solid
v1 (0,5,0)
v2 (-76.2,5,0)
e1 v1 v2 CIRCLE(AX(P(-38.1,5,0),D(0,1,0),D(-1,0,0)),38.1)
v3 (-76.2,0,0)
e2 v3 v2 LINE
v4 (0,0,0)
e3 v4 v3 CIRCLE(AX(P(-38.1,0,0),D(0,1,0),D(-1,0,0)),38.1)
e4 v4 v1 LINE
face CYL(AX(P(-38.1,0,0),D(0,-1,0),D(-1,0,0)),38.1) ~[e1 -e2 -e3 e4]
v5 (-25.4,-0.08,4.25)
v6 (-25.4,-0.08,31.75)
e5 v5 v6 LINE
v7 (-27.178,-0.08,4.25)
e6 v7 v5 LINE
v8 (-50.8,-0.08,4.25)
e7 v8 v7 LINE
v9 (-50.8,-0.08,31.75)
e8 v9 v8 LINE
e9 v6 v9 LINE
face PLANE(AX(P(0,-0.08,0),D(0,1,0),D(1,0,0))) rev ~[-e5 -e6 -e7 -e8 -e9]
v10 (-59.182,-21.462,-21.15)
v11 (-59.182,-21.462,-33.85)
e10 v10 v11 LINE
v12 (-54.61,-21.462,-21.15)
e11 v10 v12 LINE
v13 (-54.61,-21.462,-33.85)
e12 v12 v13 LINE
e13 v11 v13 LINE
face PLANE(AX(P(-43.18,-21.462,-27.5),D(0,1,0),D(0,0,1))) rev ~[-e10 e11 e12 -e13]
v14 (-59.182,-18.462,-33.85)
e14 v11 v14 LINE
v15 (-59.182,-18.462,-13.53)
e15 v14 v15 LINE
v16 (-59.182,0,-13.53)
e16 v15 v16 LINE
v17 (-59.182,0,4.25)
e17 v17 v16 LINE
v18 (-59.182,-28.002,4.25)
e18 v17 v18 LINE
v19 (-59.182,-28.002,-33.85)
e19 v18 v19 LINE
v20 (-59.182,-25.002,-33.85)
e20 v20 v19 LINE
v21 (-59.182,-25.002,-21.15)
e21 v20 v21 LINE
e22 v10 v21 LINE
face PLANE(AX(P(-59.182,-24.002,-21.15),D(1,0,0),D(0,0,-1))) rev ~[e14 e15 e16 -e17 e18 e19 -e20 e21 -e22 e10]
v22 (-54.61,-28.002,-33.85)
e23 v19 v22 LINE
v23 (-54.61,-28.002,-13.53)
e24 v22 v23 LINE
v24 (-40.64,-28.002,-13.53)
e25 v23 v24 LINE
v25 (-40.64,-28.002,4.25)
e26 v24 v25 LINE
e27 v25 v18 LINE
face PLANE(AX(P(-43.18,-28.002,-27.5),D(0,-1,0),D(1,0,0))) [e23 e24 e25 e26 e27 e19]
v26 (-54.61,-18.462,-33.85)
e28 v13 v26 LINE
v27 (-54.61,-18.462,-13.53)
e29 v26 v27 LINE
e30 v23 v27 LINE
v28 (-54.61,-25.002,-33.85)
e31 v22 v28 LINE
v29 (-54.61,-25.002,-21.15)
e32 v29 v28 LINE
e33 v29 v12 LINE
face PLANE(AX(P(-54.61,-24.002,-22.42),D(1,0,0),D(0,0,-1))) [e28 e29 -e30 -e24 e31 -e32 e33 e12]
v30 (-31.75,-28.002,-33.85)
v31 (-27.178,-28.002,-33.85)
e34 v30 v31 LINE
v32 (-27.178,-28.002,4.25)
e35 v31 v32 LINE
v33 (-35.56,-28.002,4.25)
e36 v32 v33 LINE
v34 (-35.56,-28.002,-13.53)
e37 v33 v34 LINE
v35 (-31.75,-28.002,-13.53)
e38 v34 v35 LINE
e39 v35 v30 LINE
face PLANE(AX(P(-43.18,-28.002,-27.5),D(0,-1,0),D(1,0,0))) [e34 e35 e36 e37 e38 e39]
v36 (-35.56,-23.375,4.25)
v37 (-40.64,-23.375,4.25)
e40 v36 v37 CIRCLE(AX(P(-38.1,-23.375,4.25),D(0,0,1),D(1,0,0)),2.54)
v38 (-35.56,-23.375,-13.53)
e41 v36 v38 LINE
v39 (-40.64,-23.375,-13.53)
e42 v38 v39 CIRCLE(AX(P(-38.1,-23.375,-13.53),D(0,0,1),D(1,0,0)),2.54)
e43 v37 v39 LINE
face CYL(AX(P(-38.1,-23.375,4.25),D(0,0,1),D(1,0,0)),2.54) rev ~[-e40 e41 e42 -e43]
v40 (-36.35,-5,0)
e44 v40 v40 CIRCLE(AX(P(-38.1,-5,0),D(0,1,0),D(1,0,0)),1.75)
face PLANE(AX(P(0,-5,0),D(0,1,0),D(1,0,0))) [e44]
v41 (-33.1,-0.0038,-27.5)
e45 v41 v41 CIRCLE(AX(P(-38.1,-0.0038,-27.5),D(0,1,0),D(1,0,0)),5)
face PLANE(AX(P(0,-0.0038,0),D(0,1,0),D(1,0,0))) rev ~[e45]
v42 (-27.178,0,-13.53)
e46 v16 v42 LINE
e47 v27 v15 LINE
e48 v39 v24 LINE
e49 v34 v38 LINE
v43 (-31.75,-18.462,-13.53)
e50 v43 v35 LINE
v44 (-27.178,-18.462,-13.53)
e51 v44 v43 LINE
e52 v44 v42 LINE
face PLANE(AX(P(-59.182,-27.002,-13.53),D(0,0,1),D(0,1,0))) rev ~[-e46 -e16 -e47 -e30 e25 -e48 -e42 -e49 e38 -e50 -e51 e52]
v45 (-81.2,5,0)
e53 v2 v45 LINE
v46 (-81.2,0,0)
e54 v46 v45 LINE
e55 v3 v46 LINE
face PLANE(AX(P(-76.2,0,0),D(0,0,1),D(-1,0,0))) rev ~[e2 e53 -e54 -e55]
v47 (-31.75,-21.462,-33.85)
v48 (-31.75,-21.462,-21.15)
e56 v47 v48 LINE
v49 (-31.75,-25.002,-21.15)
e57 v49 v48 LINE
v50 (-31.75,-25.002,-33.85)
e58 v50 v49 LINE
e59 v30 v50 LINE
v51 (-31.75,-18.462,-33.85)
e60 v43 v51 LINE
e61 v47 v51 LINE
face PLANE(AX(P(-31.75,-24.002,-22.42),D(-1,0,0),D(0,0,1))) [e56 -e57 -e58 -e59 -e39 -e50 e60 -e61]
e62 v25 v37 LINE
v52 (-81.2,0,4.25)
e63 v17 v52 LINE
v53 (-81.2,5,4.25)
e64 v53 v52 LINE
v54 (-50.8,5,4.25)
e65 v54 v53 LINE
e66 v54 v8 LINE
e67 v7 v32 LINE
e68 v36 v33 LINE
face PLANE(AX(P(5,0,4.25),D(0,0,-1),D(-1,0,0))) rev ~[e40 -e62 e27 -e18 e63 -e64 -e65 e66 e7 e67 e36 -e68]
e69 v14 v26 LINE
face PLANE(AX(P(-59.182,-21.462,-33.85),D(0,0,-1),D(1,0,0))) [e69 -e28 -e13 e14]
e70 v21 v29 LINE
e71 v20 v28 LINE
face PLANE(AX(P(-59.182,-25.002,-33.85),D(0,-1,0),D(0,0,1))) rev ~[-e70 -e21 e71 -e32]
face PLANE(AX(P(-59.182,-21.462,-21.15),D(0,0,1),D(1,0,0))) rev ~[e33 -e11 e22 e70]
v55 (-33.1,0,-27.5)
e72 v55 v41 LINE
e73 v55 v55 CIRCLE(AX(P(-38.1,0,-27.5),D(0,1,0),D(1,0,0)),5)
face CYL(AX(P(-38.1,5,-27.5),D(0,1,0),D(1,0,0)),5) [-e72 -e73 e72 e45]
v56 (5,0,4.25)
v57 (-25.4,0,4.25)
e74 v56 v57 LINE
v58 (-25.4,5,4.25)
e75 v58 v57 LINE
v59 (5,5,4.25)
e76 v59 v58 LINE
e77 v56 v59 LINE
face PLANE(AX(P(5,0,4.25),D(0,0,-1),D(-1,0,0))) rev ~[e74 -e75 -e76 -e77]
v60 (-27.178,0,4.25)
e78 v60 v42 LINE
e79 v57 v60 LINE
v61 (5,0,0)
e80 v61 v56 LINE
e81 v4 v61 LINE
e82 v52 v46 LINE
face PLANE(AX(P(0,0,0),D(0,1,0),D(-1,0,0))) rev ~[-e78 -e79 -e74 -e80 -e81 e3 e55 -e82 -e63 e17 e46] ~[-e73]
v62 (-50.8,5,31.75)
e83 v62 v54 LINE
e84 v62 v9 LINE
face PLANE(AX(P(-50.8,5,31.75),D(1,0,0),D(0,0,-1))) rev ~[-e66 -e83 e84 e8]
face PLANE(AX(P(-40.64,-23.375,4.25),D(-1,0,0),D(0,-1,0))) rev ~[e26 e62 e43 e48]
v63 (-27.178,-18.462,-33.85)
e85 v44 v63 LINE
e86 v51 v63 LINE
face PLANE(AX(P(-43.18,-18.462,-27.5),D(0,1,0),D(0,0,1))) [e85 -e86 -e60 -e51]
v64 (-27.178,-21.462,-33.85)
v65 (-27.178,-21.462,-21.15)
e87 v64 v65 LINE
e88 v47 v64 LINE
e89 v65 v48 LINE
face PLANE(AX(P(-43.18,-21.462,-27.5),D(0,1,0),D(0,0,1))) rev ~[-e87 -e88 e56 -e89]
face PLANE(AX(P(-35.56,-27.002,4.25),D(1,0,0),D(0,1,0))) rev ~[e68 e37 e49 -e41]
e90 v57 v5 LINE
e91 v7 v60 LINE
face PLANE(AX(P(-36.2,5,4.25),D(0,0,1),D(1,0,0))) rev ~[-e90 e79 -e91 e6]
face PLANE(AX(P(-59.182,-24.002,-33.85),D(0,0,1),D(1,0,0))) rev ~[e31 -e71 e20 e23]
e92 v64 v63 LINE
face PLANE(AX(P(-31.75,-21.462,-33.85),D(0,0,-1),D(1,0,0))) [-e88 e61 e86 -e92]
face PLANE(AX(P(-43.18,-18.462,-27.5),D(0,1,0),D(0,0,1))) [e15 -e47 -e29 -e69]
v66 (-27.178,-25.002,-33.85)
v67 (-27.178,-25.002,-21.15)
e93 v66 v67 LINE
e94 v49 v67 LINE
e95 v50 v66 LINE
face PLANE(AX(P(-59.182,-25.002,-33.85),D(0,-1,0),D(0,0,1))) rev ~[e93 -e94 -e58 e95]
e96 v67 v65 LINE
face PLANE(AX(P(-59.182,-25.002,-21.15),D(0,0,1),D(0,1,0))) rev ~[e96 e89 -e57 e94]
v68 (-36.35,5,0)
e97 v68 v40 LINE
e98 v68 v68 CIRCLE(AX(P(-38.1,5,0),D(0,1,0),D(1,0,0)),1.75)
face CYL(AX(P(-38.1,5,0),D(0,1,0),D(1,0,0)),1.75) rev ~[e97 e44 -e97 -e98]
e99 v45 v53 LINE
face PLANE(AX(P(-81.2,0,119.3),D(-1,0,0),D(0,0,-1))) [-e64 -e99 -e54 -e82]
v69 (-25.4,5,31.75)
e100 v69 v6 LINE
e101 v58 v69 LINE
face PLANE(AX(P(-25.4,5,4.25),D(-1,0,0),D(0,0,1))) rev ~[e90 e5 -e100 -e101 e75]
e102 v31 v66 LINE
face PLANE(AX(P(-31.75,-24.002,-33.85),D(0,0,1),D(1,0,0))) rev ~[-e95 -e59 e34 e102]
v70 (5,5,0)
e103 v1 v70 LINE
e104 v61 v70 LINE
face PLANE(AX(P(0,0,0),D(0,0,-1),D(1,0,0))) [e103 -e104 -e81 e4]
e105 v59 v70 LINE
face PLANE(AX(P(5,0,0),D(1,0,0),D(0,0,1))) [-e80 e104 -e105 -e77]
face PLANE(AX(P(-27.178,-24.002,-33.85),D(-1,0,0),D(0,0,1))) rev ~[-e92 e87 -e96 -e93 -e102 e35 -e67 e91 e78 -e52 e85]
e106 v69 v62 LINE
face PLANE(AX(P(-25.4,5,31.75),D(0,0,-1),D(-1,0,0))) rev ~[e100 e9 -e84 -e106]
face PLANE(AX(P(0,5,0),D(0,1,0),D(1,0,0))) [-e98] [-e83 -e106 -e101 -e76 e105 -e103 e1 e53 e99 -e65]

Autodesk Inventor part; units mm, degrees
sketch "Sketch1" plane through (0, 0, 0) normal (0, 1, 0) x (-1, 0, 0)
  line L0 (0, 0) -> (0, 114.3)
  line L1 (0, 114.3) -> (76.2, 114.3)
  line L2 (76.2, 114.3) -> (76.2, 0)
  line L3 (76.2, 0) -> (0, 0)
  circle A0 centre (38.1, 0) radius 38.1
  dimension "d0" = 114.3
  dimension "d1" = 76.2
extrude "Extrusion1" add sketch "Sketch1" along normal blind 5
sketch "Sketch2" plane through (0, 0, 0) normal (0, -1, 0) x (1, 0, 0)
  line L0 (-27.94, 89.7) -> (-27.94, 77) projected
  line L1 (-48.26, 51.6) -> (-48.26, 64.3) projected
  line L2 (-48.26, 51.6) -> (-48.26, 49.6)
  line L3 (-53.34, 64.3) -> (-48.26, 64.3)
  line L4 (-48.26, 64.3) -> (-48.26, 66.3)
  line L5 (-27.94, 66.3) -> (-27.94, 49.6)
  line L6 (-48.26, 70.015) -> (-48.26, 45.885) projected
  line L7 (-48.26, 70.015) -> (-48.26, 45.885)
  line L8 (-48.26, 42.885) -> (-27.94, 42.885)
  line L9 (-27.94, 42.885) -> (-27.94, 72.015)
  line L10 (-27.94, 72.015) -> (-27.94, 73.015)
  line L11 (-27.94, 73.015) -> (-48.26, 73.015)
  line L12 (-48.26, 42.885) -> (-49.26, 42.885)
  line L13 (-49.0223, 73.0219) -> (-48.26, 73.015)
  line L14 (-27.94, 73.015) -> (-49.26, 73.015)
  line L15 (-49.26, 73.015) -> (-49.26, 42.885)
  line L16 (-49.26, 42.885) -> (-27.94, 42.885)
  line L17 (-27.94, 42.885) -> (-27.94, 73.015)
  point P0 (0, 0)
  dimension "d5" = 2
  dimension "d12" = 2
  dimension "d69" = 3
  dimension "d70" = 3
  dimension "d75" = 1
extrude "Extrusion2" cut sketch "Sketch2" against normal blind 25.4
sketch "Sketch3" plane through (0, 0, 0) normal (0, -1, 0) x (1, 0, 0)
  arc A0 (-76.2, 0) -> (0, 0) centre (-38.1, 0) ccw projected
  line L0 (-38.1, 0) -> (-38.1, -27.5)
  circle A1 centre (-38.1, -27.5) radius 5
  dimension "d8" = 27.5
  dimension "d9" = 10
extrude "Extrusion3" cut sketch "Sketch3" against normal blind 25.4
sketch "Sketch5" plane through (-76.2, 0, 114.3) normal (0, 0, 1) x (1, 0, 0)
  circle A0 centre (38.1, -23.375) radius 3.275 projected
  line L0 (47.85, -18.65) -> (28.35, -18.65) projected
  line L1 (28.35, -28.1) -> (47.85, -28.1) projected
  line L2 (28.35, -18.65) -> (28.35, -28.1) projected
  line L3 (47.85, -28.1) -> (47.85, -18.65) projected
  line L4 (76.2, 5) -> (0, 5) projected
  line L5 (38.1, 5) -> (38.1, -18.65)
  line L6 (38.1, -18.65) -> (47.85, -18.65)
  line L7 (47.85, -18.65) -> (48.1, -18.65)
  line L8 (48.1, -18.65) -> (48.1, -28.1)
  line L9 (48.1, -28.1) -> (52.1, -28.1)
  line L10 (52.1, -28.1) -> (52.1, -18.65)
  line L11 (52.1, -18.65) -> (52.1, -16.65)
  line L12 (52.1, -16.65) -> (52.1, 0)
  line L13 (0, 0) -> (76.2, 0) projected
  line L14 (38.1, -18.65) -> (28.35, -18.65)
  line L15 (28.35, -18.65) -> (28.1, -18.65)
  line L16 (28.1, -18.65) -> (28.1, -28.1)
  line L17 (28.1, -28.1) -> (24.1, -28.1)
  line L18 (24.1, -28.1) -> (24.1, 0)
  line L19 (52.1, 0) -> (24.1, 0)
  dimension "d23" = 0.25
  dimension "d24" = 4
  dimension "d25" = 2
  dimension "d26" = 0.25
  dimension "d27" = 4
extrude "Extrusion5" add sketch "Sketch5" against normal blind 3 contours L0 L5 L13 L12 L11 L10 L9 L8 L7 | L0 L15 L16 L17 L18 L13 L5
ref_plane "Work Plane1" through (-76.2, 0, 79.55) normal (0, 0, -1) x (-1, 0, 0)
sketch "Sketch6" plane through (-76.2, 0, 79.55) normal (0, 0, -1) x (-1, 0, 0)
  circle A0 centre (-38.1, -23.375) radius 3.275 projected
  line L0 (-34.825, -23.375) -> (-30.825, -23.375)
  line L1 (-48.1, -18.65) -> (-28.1, -18.65) projected
  line L2 (-30.825, -23.375) -> (-30.825, 0)
  line L3 (-41.375, -23.375) -> (-45.375, -23.375)
  line L4 (0, 5) -> (-76.2, 5) projected
  line L5 (-45.375, -23.375) -> (-45.375, 0)
  line L6 (-45.375, 0) -> (-30.825, 0)
  circle A1 centre (-38.1, -23.375) radius 3.275
  point P0 (-76.2, 0)
  dimension "d31" = 4
  dimension "d32" = 4
extrude "Extrusion6" add sketch "Sketch6" along normal blind 3 contours A0 L3 L5 L1 L2 L0 | L1 L5 L6 L2
sketch "Sketch9" plane through (0, 0, 0) normal (0, -1, 0) x (1, 0, 0)
  line L0 (-45.375, 79.55) -> (-45.375, 76.55) projected
  line L1 (-44.442, 86.368) -> (-46.442, 86.368) projected
  line L2 (-46.442, 86.368) -> (-46.442, 79.796) projected
  line L3 (-46.442, 79.796) -> (-38.902, 79.796) projected
  line L4 (-38.902, 79.796) -> (-38.902, 86.368) projected
  line L5 (-38.902, 86.368) -> (-40.902, 86.368) projected
  line L6 (-40.902, 86.368) -> (-40.902, 81.796) projected
  line L7 (-40.902, 81.796) -> (-44.442, 81.796) projected
  line L8 (-44.442, 81.796) -> (-44.442, 86.368) projected
  line L9 (-41.375, 79.55) -> (-45.375, 79.55) projected
  line L10 (-45.375, 79.55) -> (-45.375, 76.55) projected
  line L11 (-41.375, 76.55) -> (-45.375, 76.55) projected
  line L12 (-41.375, 79.55) -> (-41.375, 76.55) projected
  line L13 (-45.375, 76.55) -> (-45.375, 79.55) projected
  line L14 (-46.442, 79.796) -> (-45.375, 79.796)
  line L15 (-45.375, 79.796) -> (-45.375, 76.55)
  line L16 (-45.375, 76.55) -> (-46.442, 76.55)
  line L17 (-46.442, 76.55) -> (-46.442, 79.796)
  line L18 (-38.902, 86.368) -> (-38.902, 79.796) projected
  line L19 (-38.902, 79.796) -> (-45.375, 79.796)
  line L20 (-45.375, 79.796) -> (-45.375, 79.55)
  line L21 (-45.375, 79.55) -> (-38.902, 79.55)
  line L22 (-38.902, 79.55) -> (-38.902, 79.796)
  point P0 (0, 0)
extrude "Extrusion9" add sketch "Sketch9" along normal blind 23.37 contours L15 L3 L22 L21 L9 | L0 L16 L17 L3 L15
sketch "Sketch14" plane through (0, 0, 0) normal (0, -1, 0) x (1, 0, 0)
  line L0 (0, 0) -> (5, 0)
  line L1 (5, 0) -> (5, 114.3)
  line L2 (5, 114.3) -> (5, 119.3)
  line L3 (5, 119.3) -> (-76.2, 119.3)
  line L4 (-52.1, 114.3) -> (-76.2, 114.3) projected
  line L5 (-76.2, 119.3) -> (-81.2, 119.3)
  line L6 (-81.2, 119.3) -> (-81.2, 0)
  line L7 (-76.2, 0) -> (-81.2, 0)
  line L8 (-81.2, 0) -> (-81.2, 119.3)
  line L9 (-81.2, 119.3) -> (-76.2, 119.3)
  line L10 (-76.2, 119.3) -> (-76.2, 0)
  line L11 (-81.2, 119.3) -> (5, 119.3)
  line L12 (5, 119.3) -> (5, 114.3)
  line L13 (5, 114.3) -> (-81.2, 114.3)
  line L14 (-81.2, 114.3) -> (-81.2, 119.3)
  line L15 (5, 119.3) -> (0, 119.3)
  line L16 (0, 119.3) -> (0, 0)
  line L17 (0, 0) -> (5, 0)
  line L18 (5, 0) -> (5, 119.3)
  dimension "d58" = 5
  dimension "d59" = 5
  dimension "d60" = 5
extrude "Extrusion14" add sketch "Sketch14" against normal blind 5
sketch "Sketch15" plane through (-38.902, -23.37, 79.55) normal (0, 0, -1) x (-1, 0, 0)
  arc A0 (2.473, -0.005) -> (-4.077, -0.005) centre (-0.802, -0.005) ccw projected
  circle A1 centre (-0.802, -0.005) radius 3.275
  point P0 (-38.902, 23.37)
extrude "Extrusion15" cut sketch "Sketch15" against normal blind 25.4
ref_plane "Work Plane2" through (-29.1001, -34.45, 98.298) normal (1, 0, 0) x (0, -1, 0)
sketch "Sketch16" plane through (-29.1001, -34.45, 98.298) normal (1, 0, 0) x (0, -1, 0)
  line L0 (-5.08, 11.43) -> (5.08, 11.43) projected
  arc A0 (-5.08, 11.43) -> (-6.35, 10.16) centre (-5.08, 10.16) ccw projected
  line L1 (-6.35, -10.16) -> (-6.35, 10.16) projected
  arc A1 (-6.35, -10.16) -> (-5.08, -11.43) centre (-5.08, -10.16) ccw projected
  line L2 (5.08, -11.43) -> (-5.08, -11.43) projected
  arc A2 (5.08, -11.43) -> (6.35, -10.16) centre (5.08, -10.16) ccw projected
  line L3 (6.35, 10.16) -> (6.35, -10.16) projected
  arc A3 (6.35, 10.16) -> (5.08, 11.43) centre (5.08, 10.16) ccw projected
  line L4 (0, 11.43) -> (-6.35, 11.43)
  line L5 (-6.35, 11.43) -> (-6.35, -11.43)
  line L6 (-6.35, -11.43) -> (0, -11.43)
  line L7 (0, -11.43) -> (0, 11.43)
  line L8 (-34.45, -21.002) -> (-34.45, 98.298) projected
  line L9 (-6.35, 11.43) -> (-34.45, 11.43)
  line L10 (-34.45, 11.43) -> (-34.45, -11.43)
  line L11 (-34.45, -11.43) -> (-6.35, -11.43)
  line L12 (-6.35, -11.43) -> (-6.35, 11.43)
extrude "Extrusion16" add sketch "Sketch16" along normal blind 3 contours L0 L7 L2 A1 L1 A0 | A0 L5 L4 | L1 L5 L11 L8 L9 | A1 L6 L5
sketch "Sketch17" plane through (-29.1001, -34.45, 98.298) normal (-1, 0, 0) x (0, 0, 1)
  line L0 (10.16, 6.35) -> (-10.16, 6.35) projected
  line L1 (11.43, 34.45) -> (11.43, 0) projected
  line L2 (11.43, 34.45) -> (-11.43, 34.45) projected
  line L3 (11.43, 6.35) -> (-11.43, 6.35)
  line L4 (-11.43, 6.35) -> (-11.43, 34.45)
  line L5 (-11.43, 34.45) -> (11.43, 34.45)
  line L6 (11.43, 34.45) -> (11.43, 6.35)
  point P0 (-98.298, 34.45)
extrude "Extrusion17" add sketch "Sketch17" along normal blind 5
sketch "Sketch18" plane through (0, 0, 0) normal (0, -1, 0) x (1, 0, 0)
  line L0 (-76.2, 64.3) -> (-60.198, 64.3) projected
  line L1 (-70.866, 64.3) -> (-71.882, 64.3) projected
  line L2 (-70.866, 64.3) -> (-70.866, 66.84) projected
  line L3 (-71.882, 66.84) -> (-70.866, 66.84) projected
  line L4 (-76.2, 63.03) -> (-76.2, 64.3) projected
  line L5 (-76.2, 63.03) -> (-76.2, 42.71) projected
  line L6 (-76.2, 41.44) -> (-76.2, 42.71) projected
  line L7 (-76.2, 41.44) -> (-60.198, 41.44) projected
  line L8 (-60.198, 36.868) -> (-60.198, 42.71) projected
  line L9 (-57.658, 36.868) -> (-60.198, 36.868) projected
  line L10 (-57.658, 36.868) -> (-57.658, 42.71) projected
  line L11 (-57.658, 41.44) -> (-53.34, 41.44) projected
  line L12 (-53.34, 57.95) -> (-53.34, 42.71) projected
  line L13 (-53.34, 41.44) -> (-53.34, 42.71) projected
  line L14 (-53.34, 51.6) -> (-48.26, 51.6)
  line L15 (-53.34, 64.3) -> (-48.26, 64.3)
  line L16 (-57.658, 64.3) -> (-53.34, 64.3) projected
  line L17 (-57.658, 63.03) -> (-57.658, 68.872) projected
  line L18 (-60.198, 63.03) -> (-60.198, 68.872) projected
  line L19 (-57.658, 68.872) -> (-60.198, 68.872) projected
  line L20 (-48.26, 70.015) -> (-48.26, 45.885) projected
  line L21 (-76.2, 64.3) -> (-53.34, 64.3)
  line L22 (-53.34, 64.3) -> (-53.34, 41.44)
  line L23 (-53.34, 41.44) -> (-76.2, 41.44)
  line L24 (-76.2, 41.44) -> (-76.2, 64.3)
  line L25 (-57.658, 68.872) -> (-60.198, 68.872)
  line L26 (-60.198, 68.872) -> (-60.198, 64.3)
  line L27 (-60.198, 64.3) -> (-57.658, 64.3)
  line L28 (-57.658, 64.3) -> (-57.658, 68.872)
  line L29 (-60.198, 41.44) -> (-57.658, 41.44)
  line L30 (-57.658, 41.44) -> (-57.658, 36.868)
  line L31 (-57.658, 36.868) -> (-60.198, 36.868)
  line L32 (-60.198, 36.868) -> (-60.198, 41.44)
  line L33 (-71.882, 64.3) -> (-70.866, 64.3)
  line L34 (-70.866, 64.3) -> (-70.866, 66.84)
  line L35 (-53.34, 64.3) -> (-48.26, 64.3)
  line L36 (-48.26, 64.3) -> (-48.26, 51.6)
  line L37 (-48.26, 51.6) -> (-53.34, 51.6)
  line L38 (-53.34, 51.6) -> (-53.34, 64.3)
  line L39 (-70.866, 64.3) -> (-70.366, 64.3)
  line L40 (-70.366, 64.3) -> (-71.882, 64.3)
  line L41 (-71.882, 64.3) -> (-72.382, 64.3)
  line L42 (-70.366, 64.3) -> (-72.382, 64.3)
  line L43 (-72.382, 64.3) -> (-72.382, 72.555)
  line L44 (-72.382, 72.555) -> (-70.366, 72.555)
  line L45 (-70.366, 72.555) -> (-70.366, 64.3)
  line L46 (-60.698, 69.372) -> (-57.158, 69.372) projected
  line L47 (-60.698, 64.3) -> (-57.158, 64.3)
  line L48 (-57.158, 64.3) -> (-57.158, 69.372)
  line L49 (-57.158, 69.372) -> (-60.698, 69.372)
  line L50 (-60.698, 69.372) -> (-60.698, 64.3)
  line L51 (-60.698, 41.44) -> (-57.158, 41.44)
  line L52 (-57.158, 41.44) -> (-57.158, 36.368)
  line L53 (-57.158, 36.368) -> (-60.698, 36.368)
  line L54 (-60.698, 36.368) -> (-60.698, 41.44)
  point P0 (0, 0)
  dimension "d111" = 0.5
  dimension "d112" = 0.5
  dimension "d113" = 8.255
extrude "Extrusion18" cut sketch "Sketch18" against normal blind 5
ref_plane "Work Plane3" through (-51.9601, -34.45, 98.306) normal (-1, 0, 0) x (0, -1, 0)
sketch "Sketch20" plane through (-51.9601, -34.45, 98.306) normal (-1, 0, 0) x (0, -1, 0)
  arc A0 (-6.35, 5.08) -> (6.35, 5.08) centre (0, 5.08) ccw projected
  line L0 (-6.35, 5.08) -> (-6.35, -10.16) projected
  arc A1 (-6.35, -10.16) -> (-5.08, -11.43) centre (-5.08, -10.16) ccw projected
  line L1 (-5.08, -11.43) -> (5.08, -11.43) projected
  arc A2 (5.08, -11.43) -> (6.35, -10.16) centre (5.08, -10.16) ccw projected
  line L2 (6.35, -10.16) -> (6.35, 5.08) projected
  line L3 (-6.35, -11.43) -> (-2.2139, -11.43)
  line L4 (-2.2139, -2.54) -> (-6.35, -2.54)
  line L5 (-6.35, -2.54) -> (-6.35, -11.43)
  line L6 (-6.35, -2.54) -> (-1.27, -2.54)
  line L7 (-1.27, -2.54) -> (-1.27, -11.43)
  line L8 (-6.35, -11.43) -> (-1.27, -11.43)
  line L9 (-1.27, -11.43) -> (-1.27, -2.54)
  line L10 (-1.27, -2.54) -> (-6.35, -2.54)
  line L11 (-6.35, -2.54) -> (-6.35, -11.43)
  point P0 (-34.45, -98.306)
  dimension "d76" = 8.89
  dimension "d77" = 4.1361
  dimension "d78" = 5.08
extrude "Extrusion20" add sketch "Sketch20" along normal blind 2 contours L4 L6 L7 L1 A1 L0 | A1 L3 L5
sketch "Sketch21" plane through (-53.9601, -34.45, 98.306) normal (-1, 0, 0) x (0, 0, 1)
  line L0 (-2.54, 6.35) -> (-11.43, 6.35) projected
  line L1 (-11.438, 0) -> (-11.438, 34.45) projected
  line L2 (-2.54, 6.35) -> (-11.438, 6.35)
  line L3 (-11.438, 6.35) -> (-11.438, 34.45)
  line L4 (-11.438, 34.45) -> (-2.54, 34.45)
  line L5 (-2.54, 34.45) -> (-2.54, 6.35)
  point P0 (-98.306, 34.45)
extrude "Extrusion21" add sketch "Sketch21" against normal blind 5
ref_plane "Work Plane4" through (-71.904, -22.7, 83.386) normal (0, 0, 1) x (-1, 0, 0)
ref_plane "Work Plane5" through (-43.18, -24.002, -27.5) normal (0, -1, 0) x (0, 0, -1)
sketch "Sketch23" plane through (-43.18, -24.002, -27.5) normal (0, -1, 0) x (0, 0, -1)
  circle A0 centre (0, 12.7) radius 1.016 projected
  arc A1 (-5.08, 11.43) -> (-6.35, 10.16) centre (-5.08, 10.16) ccw projected
  line L0 (5.08, 11.43) -> (-5.08, 11.43) projected
  arc A2 (6.35, 10.16) -> (5.08, 11.43) centre (5.08, 10.16) ccw projected
  line L1 (6.35, 10.16) -> (6.35, 16.002) projected
  line L2 (6.35, 16.002) -> (-6.35, 16.002) projected
  line L3 (-6.35, 16.002) -> (-6.35, 10.16) projected
  arc A3 (-6.35, -10.16) -> (-5.08, -11.43) centre (-5.08, -10.16) ccw projected
  line L4 (-6.35, -10.16) -> (-6.35, -16.002) projected
  line L5 (-6.35, -16.002) -> (6.35, -16.002) projected
  line L6 (6.35, -16.002) -> (6.35, -10.16) projected
  arc A4 (5.08, -11.43) -> (6.35, -10.16) centre (5.08, -10.16) ccw projected
  line L7 (-5.08, -11.43) -> (5.08, -11.43) projected
  circle A5 centre (0, -12.7) radius 1.016 projected
  line L8 (6.35, 11.43) -> (-6.35, 11.43)
  line L9 (-6.35, 11.43) -> (-6.35, 16.002)
  line L10 (-6.35, 16.002) -> (6.35, 16.002)
  line L11 (6.35, 16.002) -> (6.35, 11.43)
  circle A6 centre (0, 12.7) radius 1.016
  line L12 (-6.35, -11.43) -> (6.35, -11.43)
  line L13 (6.35, -11.43) -> (6.35, -16.002)
  line L14 (6.35, -16.002) -> (-6.35, -16.002)
  line L15 (-6.35, -16.002) -> (-6.35, -11.43)
  circle A7 centre (0, -12.7) radius 1.016
  line L16 (6.35, 11.43) -> (-31.75, 11.43)
  line L17 (-31.75, 11.43) -> (-31.75, 16.002)
  line L18 (-31.75, 16.002) -> (6.35, 16.002)
  line L19 (6.35, 16.002) -> (6.35, 11.43)
  line L20 (6.35, -16.002) -> (-31.75, -16.002)
  line L21 (-31.75, -16.002) -> (-31.75, -11.43)
  line L22 (-31.75, -11.43) -> (6.35, -11.43)
  line L23 (6.35, -11.43) -> (6.35, -16.002)
  point P0 (-27.5, 43.18)
  dimension "d89" = 38.1
  dimension "d90" = 38.1
extrude "Extrusion23" add sketch "Sketch23" along normal blind 3 contours A0 | L8 L3 L2 L1 L0 | L16 L17 L18 L3 | L7 L12 L6 L5 L4 | L4 L20 L21 L22 | A5
sketch "Sketch24" plane through (-59.182, -24.002, -33.85) normal (-1, 0, 0) x (0, 0, 1)
  line L0 (38.1, 0) -> (38.1, -3) projected
  line L1 (-4.25, 24.002) -> (33.85, 24.002) projected
  line L2 (38.1, -3) -> (20.32, -3)
  line L3 (20.32, -3) -> (20.32, 24.002)
  line L4 (20.32, 24.002) -> (38.1, 24.002)
  line L5 (38.1, 24.002) -> (38.1, -3)
  dimension "d93" = 17.78
extrude "Extrusion24" add sketch "Sketch24" against normal blind 32.004
ref_plane "Work Plane6" through (-43.18, -21.462, -27.5) normal (0, 1, 0) x (0, 0, 1)
sketch "Sketch25" plane through (-43.18, -21.462, -27.5) normal (0, 1, 0) x (0, 0, 1)
  arc A0 (5.08, -11.43) -> (6.35, -10.16) centre (5.08, -10.16) ccw projected
  line L0 (-5.08, -11.43) -> (5.08, -11.43) projected
  arc A1 (-6.35, -10.16) -> (-5.08, -11.43) centre (-5.08, -10.16) ccw projected
  line L1 (-6.35, -16.002) -> (-6.35, -10.16) projected
  line L2 (6.35, -16.002) -> (-6.35, -16.002) projected
  line L3 (6.35, -10.16) -> (6.35, -16.002) projected
  circle A2 centre (0, -12.7) radius 1.016 projected
  arc A3 (6.35, 10.16) -> (5.08, 11.43) centre (5.08, 10.16) ccw projected
  line L4 (6.35, 16.002) -> (6.35, 10.16) projected
  line L5 (-6.35, 16.002) -> (6.35, 16.002) projected
  line L6 (-6.35, 10.16) -> (-6.35, 16.002) projected
  arc A4 (-5.08, 11.43) -> (-6.35, 10.16) centre (-5.08, 10.16) ccw projected
  line L7 (5.08, 11.43) -> (-5.08, 11.43) projected
  circle A5 centre (0, 12.7) radius 1.016 projected
  line L8 (31.75, 16.002) -> (13.97, 16.002) projected
  line L9 (-6.35, 11.43) -> (22.86, 11.43)
  line L10 (22.86, 11.43) -> (22.86, 16.002)
  line L11 (22.86, 16.002) -> (-6.35, 16.002)
  line L12 (-6.35, 16.002) -> (-6.35, 11.43)
  circle A6 centre (0, 12.7) radius 1.016
  line L13 (-6.35, -11.43) -> (13.97, -11.43)
  line L14 (13.97, -11.43) -> (13.97, -16.002)
  line L15 (13.97, -16.002) -> (-6.35, -16.002)
  line L16 (-6.35, -16.002) -> (-6.35, -11.43)
  circle A7 centre (0, -12.7) radius 1.016
  point P0 (27.5, 43.18)
extrude "Extrusion25" add sketch "Sketch25" along normal blind 3 contours L13 L3 L2 L1 L0 | L13 L14 L15 L3 | A2 | L7 L9 L6 L5 L4 | L4 L11 L8 L10 L9 | A5
sketch "Sketch26" plane through (-43.18, -21.462, -27.5) normal (0, -1, 0) x (1, 0, 0)
  line L0 (16.002, 6.35) -> (10.16, 6.35) projected
  line L1 (-16.002, -6.35) -> (-16.002, 13.97) projected
  line L2 (-16.002, 13.97) -> (-11.43, 13.97) projected
  line L3 (-16.002, 6.35) -> (-13.716, 6.35)
  line L4 (-13.716, 6.35) -> (-13.716, 13.97)
  line L5 (-13.716, 13.97) -> (-16.002, 13.97)
  line L6 (-16.002, 13.97) -> (-16.002, 6.35)
  line L7 (-13.716, 13.97) -> (-11.8721, 13.97)
  line L8 (-11.8721, 6.35) -> (-13.716, 6.35)
  line L9 (-13.716, 6.35) -> (-13.716, 13.97)
  line L10 (11.43, 13.97) -> (16.002, 13.97) projected
  line L11 (11.43, 6.35) -> (16.002, 6.35)
  line L12 (16.002, 6.35) -> (16.002, 13.97)
  line L13 (16.002, 13.97) -> (11.43, 13.97)
  line L14 (11.43, 13.97) -> (11.43, 6.35)
  line L15 (-11.43, 13.97) -> (-11.43, -6.35) projected
  line L16 (-11.43, 6.35) -> (-13.716, 6.35)
  line L17 (-13.716, 6.35) -> (-13.716, 13.97)
  line L18 (-13.716, 13.97) -> (-11.43, 13.97)
  line L19 (-11.43, 13.97) -> (-11.43, 6.35)
  point P0 (43.18, 27.5)
extrude "Extrusion26" add sketch "Sketch26" along normal blind 3
sketch "Sketch28" plane through (0, 0, 0) normal (0, -1, 0) x (1, 0, 0)
  line L0 (-81.2, 119.3) -> (-81.2, 93.9)
  line L1 (-81.2, 119.3) -> (-81.2, 0) projected
  line L2 (-81.2, 93.9) -> (-78.2, 93.9)
  line L3 (-78.2, 93.9) -> (-78.2, 81.2)
  line L4 (-78.2, 81.2) -> (-81.2, 81.2)
  line L5 (-81.2, 93.9) -> (-81.2, 81.2)
  line L6 (-81.2, 0) -> (-76.2, 0) projected
  line L7 (-81.2, 0) -> (-81.2, 25.4)
  line L8 (-81.2, 25.4) -> (-78.2, 25.4)
  line L9 (-78.2, 25.4) -> (-78.2, 38.1)
  line L10 (-78.2, 38.1) -> (-81.2, 38.1)
  line L11 (-81.2, 25.4) -> (-81.2, 38.1)
  line L12 (5, 119.3) -> (-81.2, 119.3) projected
  line L13 (-38.1, 119.3) -> (-38.1, 128.3765)
  line L14 (5, 119.3) -> (5, 93.9)
  line L15 (5, 119.3) -> (5, 0)
  line L16 (5, 93.9) -> (2, 93.9)
  line L17 (2, 93.9) -> (2, 81.2)
  line L18 (2, 81.2) -> (5, 81.2)
  line L19 (5, 93.9) -> (5, 81.2)
  line L20 (5, 0) -> (5, 25.4)
  line L21 (5, 25.4) -> (2, 25.4)
  line L22 (2, 25.4) -> (2, 38.1)
  line L23 (2, 38.1) -> (5, 38.1)
  line L24 (5, 25.4) -> (5, 38.1)
  point P0 (0, 0)
  dimension "d104" = 25.4
  dimension "d105" = 3
  dimension "d106" = 12.7
  dimension "d107" = 25.4
  dimension "d108" = 12.7
extrude "Extrusion27" cut sketch "Sketch28" against normal blind 254
sketch "Sketch29" plane through (0, 5, 0) normal (0, 1, 0) x (1, 0, 0)
  circle A0 centre (-38.1, 27.5) radius 5 projected
  circle A1 centre (-38.1, 27.5) radius 5
  point P0 (0, 0)
extrude "Extrusion28" add sketch "Sketch29" against normal blind 5.0038
sketch "Sketch30" plane through (0, 0, 0) normal (0, -1, 0) x (1, 0, 0)
  line L0 (-25.7555, 33.65) -> (-0.7555, 33.65) projected
  line L1 (-0.7555, 33.65) -> (-0.7555, 85.65) projected
  line L2 (-0.7555, 85.65) -> (-25.7555, 85.65) projected
  line L3 (-25.7555, 85.65) -> (-25.7555, 33.65) projected
  line L4 (-27.94, 42.885) -> (-25.7555, 42.885)
  line L5 (-25.7555, 42.885) -> (-25.7555, 69.015)
  line L6 (-25.7555, 69.015) -> (-27.94, 69.015)
  line L7 (-27.94, 69.015) -> (-27.94, 42.885)
  line L8 (-25.7555, 85.65) -> (-20.7555, 85.65)
  line L9 (-0.7555, 85.65) -> (-5.7555, 85.65)
  line L10 (-20.7555, 85.65) -> (-5.7555, 85.65)
  line L11 (-5.7555, 85.65) -> (-5.7555, 88.65)
  line L12 (-5.7555, 88.65) -> (-20.7555, 88.65)
  line L13 (-20.7555, 88.65) -> (-20.7555, 85.65)
  point P0 (0, 0)
  dimension "d116" = 5
  dimension "d117" = 5
  dimension "d118" = 3
extrude "Extrusion29" add sketch "Sketch30" along normal blind 5 contours L4 L7 L6 L3 | L2 L13 L12 L11
sketch "Sketch31" plane through (-24.1, -28.1, 114.3) normal (1, 0, 0) x (0, 0, -1)
  line L0 (0, 0) -> (0, 9.45) projected
  line L1 (4.572, 28.1) -> (4.572, -6.35) projected
  line L2 (0, 0) -> (4.572, 0)
  line L3 (4.572, 0) -> (4.572, 28.1)
  line L4 (4.572, 28.1) -> (0, 28.1)
  line L5 (0, 28.1) -> (0, 0)
  point P0 (114.3, 28.1)
extrude "Extrusion30" add sketch "Sketch31" against normal blind 4
sketch "Sketch32" plane through (0, 0, 0) normal (0, -1, 0) x (1, 0, 0)
  line L0 (-57.158, 69.372) -> (-57.158, 64.3) projected
  line L1 (-57.158, 69.372) -> (-70.366, 69.372)
  line L2 (-70.366, 69.372) -> (-70.366, 36.368)
  line L3 (-70.366, 36.368) -> (-57.158, 36.368)
  line L4 (-57.158, 36.368) -> (-57.158, 69.372)
  point P0 (0, 0)
extrude "Extrusion31" add sketch "Sketch32" along normal blind 2.54
sketch "Sketch35" plane through (-59.182, -27.002, 4.25) normal (0, 0, 1) x (1, 0, 0)
  circle A0 centre (21.082, 3.627) radius 1.9 projected
  circle A1 centre (21.082, 3.627) radius 1.9
  circle A2 centre (21.082, 3.627) radius 1.9
  line L0 (32.004, 0) -> (0, 0) projected
  line L1 (22.982, 0) -> (19.182, 0)
  line L2 (22.982, 0) -> (21.082, 0)
  line L3 (21.082, 0) -> (21.082, 3.627)
  line L4 (21.082, 3.627) -> (22.982, 3.627)
  line L5 (22.982, 3.627) -> (22.982, 0)
  line L6 (21.082, 3.627) -> (19.182, 3.627)
  line L7 (19.182, 3.627) -> (19.182, 0)
  line L8 (19.182, 0) -> (21.082, 0)
  line L9 (21.082, 0) -> (21.082, 3.627)
  point P0 (59.182, 27.002)
extrude "Extrusion34" cut sketch "Sketch35" against normal blind 25.4
sketch "Sketch36" plane through (0, 5, 0) normal (0, 1, 0) x (1, 0, 0)
  line L0 (-81.2, -119.3) -> (5, -119.3) projected
  line L1 (-81.2, -119.3) -> (-68.5, -119.3)
  line L2 (5, -119.3) -> (-7.7, -119.3)
  line L3 (-5.7555, -88.65) -> (-20.7555, -88.65) projected
  line L4 (-68.5, -119.3) -> (-7.7, -119.3)
  line L5 (-7.7, -119.3) -> (-7.7, -88.65)
  line L6 (-7.7, -88.65) -> (-68.5, -88.65)
  line L7 (-68.5, -88.65) -> (-68.5, -119.3)
  line L8 (-52.1, -111.3) -> (-52.1, -114.3) projected
  line L9 (-24.1, -114.3) -> (-24.1, -109.728) projected
  line L10 (-52.1, -119.3) -> (-68.5, -119.3)
  line L11 (-68.5, -119.3) -> (-68.5, -88.65)
  line L12 (-68.5, -88.65) -> (-52.1, -88.65)
  line L13 (-52.1, -88.65) -> (-52.1, -119.3)
  line L14 (-24.1, -119.3) -> (-7.7, -119.3)
  line L15 (-7.7, -119.3) -> (-7.7, -88.65)
  line L16 (-7.7, -88.65) -> (-24.1, -88.65)
  line L17 (-24.1, -88.65) -> (-24.1, -119.3)
  point P0 (0, 0)
  dimension "d134" = 12.7
  dimension "d135" = 12.7
sketch "Sketch37" plane through (0, 0, 0) normal (0, -1, 0) x (1, 0, 0)
  line L0 (-29.1001, 88.146) -> (-45.1021, 88.146) projected
  line L1 (-29.1001, 88.146) -> (-29.1001, 108.466) projected
  line L2 (-29.1001, 108.466) -> (-45.1021, 108.466) projected
  line L3 (-45.1021, 114.308) -> (-45.1021, 108.466) projected
  line L4 (-47.6421, 114.308) -> (-45.1021, 114.308) projected
  line L5 (-47.6421, 114.308) -> (-47.6421, 108.466) projected
  line L6 (-47.6421, 108.466) -> (-51.9601, 108.466) projected
  line L7 (-51.9601, 103.386) -> (-51.9601, 108.466) projected
  line L8 (-51.9601, 88.146) -> (-51.9601, 103.386) projected
  line L9 (-47.6421, 88.146) -> (-51.9601, 88.146) projected
  line L10 (-47.6421, 88.146) -> (-47.6421, 82.304) projected
  line L11 (-47.6421, 82.304) -> (-45.1021, 82.304) projected
  line L12 (-45.1021, 88.146) -> (-45.1021, 82.304) projected
  line L13 (-47.6421, 82.304) -> (-47.7421, 82.304)
  line L14 (-47.7421, 82.304) -> (-47.7421, 82.204)
  line L15 (-47.7421, 82.204) -> (-47.7421, 84.704)
  line L16 (-47.7421, 84.704) -> (-50.2421, 84.704)
  line L17 (-47.7421, 82.204) -> (-45.1021, 82.204)
  line L18 (-45.1021, 82.204) -> (-45.0021, 82.204)
  line L19 (-45.0021, 82.204) -> (-45.0021, 84.704)
  line L20 (-45.0021, 84.704) -> (-42.5021, 84.704)
  line L21 (-42.5021, 84.704) -> (-42.5021, 79.796)
  line L22 (-46.442, 79.796) -> (-38.902, 79.796) projected
  line L23 (-50.2421, 84.704) -> (-50.2421, 79.796)
  line L24 (-50.2421, 79.796) -> (-46.442, 79.796)
  point P0 (0, 0)
  dimension "d136" = 0.1
  dimension "d137" = 0.1
  dimension "d138" = 2.5
  dimension "d139" = 2.5
  dimension "d140" = 0.1
  dimension "d141" = 2.5
extrude "Extrusion35" add sketch "Sketch37" along normal blind 40.894 contours L14 L17 L18 L19 L20 L21 L22 L24 L23 L16 L15
extrude "Extrusion36" cut sketch "Sketch36" against normal blind 5.08 contours L7 L6 L13 L8 L0 | L17 L9 L6 L3 L5 L0
sketch "Sketch38" plane through (0, -2.54, 0) normal (0, -1, 0) x (1, 0, 0)
  line L0 (-73.7193, 68.8881) -> (-54.2193, 68.8881) projected
  line L1 (-57.158, 64.3) -> (-57.158, 69.372) projected
  line L2 (-70.366, 64.3) -> (-70.366, 41.44) projected
  line L3 (-57.158, 68.8881) -> (-70.366, 68.8881)
  line L4 (-70.366, 68.8881) -> (-70.366, 65.8881)
  line L5 (-70.366, 65.8881) -> (-57.158, 65.8881)
  line L6 (-57.158, 65.8881) -> (-57.158, 68.8881)
  point P0 (0, 0)
  dimension "d146" = 3
extrude "Extrusion37" add sketch "Sketch38" along normal blind 21.59
sketch "Sketch39" plane through (0, 0, 0) normal (0, -1, 0) x (1, 0, 0)
  line L0 (-67.2443, -4.7119) -> (-60.6943, -4.7119) projected
  line L1 (-70.366, 36.368) -> (-70.366, 41.44) projected
  line L2 (-70.366, 36.368) -> (-70.366, 5.888)
  line L3 (-70.366, 5.888) -> (-57.158, 5.888)
  line L4 (-70.366, 5.888) -> (-57.158, 5.888)
  line L5 (-57.158, 5.888) -> (-57.158, 8.888)
  line L6 (-57.158, 8.888) -> (-70.366, 8.888)
  line L7 (-70.366, 8.888) -> (-70.366, 5.888)
  point P0 (0, 0)
  dimension "d149" = 30.48
  dimension "d150" = 3
extrude "Extrusion38" add sketch "Sketch39" along normal blind 27.94
sketch "Sketch40" plane through (-57.158, 0, 5.888) normal (0, 0, -1) x (-1, 0, 0)
  circle A0 centre (6.8113, -17.72) radius 3.275 projected
  circle A1 centre (6.8113, -17.72) radius 3.556
  point P0 (-57.158, 0)
  dimension "d153" = 7.112
extrude "Extrusion39" cut sketch "Sketch40" against normal blind 76.2 contours A0 | A1
sketch "Sketch41" plane through (-59.182, -27.002, 4.25) normal (-1, 0, 0) x (0, 0, 1)
  line L0 (-25.4, 3) -> (-38.1, 3) projected
  line L1 (-38.1, 3) -> (-38.1, 0) projected
  line L2 (0, 0) -> (-38.1, 0) projected
  line L3 (0, 27.002) -> (0, 0) projected
  line L4 (-17.78, 27.002) -> (0, 27.002) projected
  line L5 (-17.78, 8.54) -> (-17.78, 27.002) projected
  line L6 (-38.1, 8.54) -> (-17.78, 8.54) projected
  line L7 (-38.1, 5.54) -> (-38.1, 8.54) projected
  line L8 (-38.1, 5.54) -> (-25.4, 5.54) projected
  line L9 (-25.4, 5.54) -> (-25.4, 3) projected
  point P0 (-4.25, 27.002)
sketch "Sketch42" plane through (0, 0, 0) normal (0, -1, 0) x (1, 0, 0)
  line L0 (-70.366, 5.888) -> (-70.366, 8.888) projected
  line L1 (-70.366, 8.888) -> (-57.158, 8.888) projected
  line L2 (-57.158, 8.888) -> (-57.158, 5.888) projected
  line L3 (-57.158, 5.888) -> (-70.366, 5.888) projected
  line L4 (-24.1, 88.65) -> (-24.1, 109.728) projected
  line L5 (-24.1, 109.728) -> (-26.1001, 109.728) projected
  line L6 (-26.1001, 109.728) -> (-26.1001, 86.868) projected
  line L7 (-26.1001, 86.868) -> (-34.1001, 86.868) projected
  line L8 (-34.1001, 86.868) -> (-34.1001, 109.728) projected
  line L9 (-34.1001, 109.728) -> (-28.1, 109.728) projected
  line L10 (-28.1, 109.728) -> (-28.1, 111.3) projected
  line L11 (-28.1, 111.3) -> (-52.1, 111.3) projected
  line L12 (-52.1, 111.3) -> (-52.1, 95.766) projected
  line L13 (-52.1, 95.766) -> (-48.9601, 95.766) projected
  line L14 (-48.9601, 95.766) -> (-48.9601, 86.868) projected
  line L15 (-48.9601, 86.868) -> (-53.9601, 86.868) projected
  line L16 (-53.9601, 86.868) -> (-53.9601, 88.65) projected
  line L17 (-53.9601, 88.65) -> (-68.5, 88.65) projected
  line L18 (-68.5, 88.65) -> (-68.5, 119.3) projected
  line L19 (-68.5, 119.3) -> (-81.2, 119.3) projected
  line L20 (-81.2, 119.3) -> (-81.2, 93.9) projected
  line L21 (-81.2, 93.9) -> (-78.2, 93.9) projected
  line L22 (-78.2, 93.9) -> (-78.2, 81.2) projected
  line L23 (-78.2, 81.2) -> (-81.2, 81.2) projected
  line L24 (-81.2, 81.2) -> (-81.2, 38.1) projected
  line L25 (-81.2, 38.1) -> (-78.2, 38.1) projected
  line L26 (-78.2, 38.1) -> (-78.2, 25.4) projected
  line L27 (-78.2, 25.4) -> (-81.2, 25.4) projected
  line L28 (-81.2, 25.4) -> (-81.2, 0) projected
  line L29 (-81.2, 0) -> (-76.2, 0) projected
  arc A0 (-76.2, 0) -> (0, 0) centre (-38.1, 0) ccw projected
  line L30 (0, 0) -> (5, 0) projected
  line L31 (5, 0) -> (5, 25.4) projected
  line L32 (5, 25.4) -> (2, 25.4) projected
  line L33 (2, 25.4) -> (2, 38.1) projected
  line L34 (2, 38.1) -> (5, 38.1) projected
  line L35 (5, 38.1) -> (5, 81.2) projected
  line L36 (5, 81.2) -> (2, 81.2) projected
  line L37 (2, 81.2) -> (2, 93.9) projected
  line L38 (2, 93.9) -> (5, 93.9) projected
  line L39 (5, 93.9) -> (5, 119.3) projected
  line L40 (5, 119.3) -> (-7.7, 119.3) projected
  line L41 (-7.7, 119.3) -> (-7.7, 88.65) projected
  line L42 (-7.7, 88.65) -> (-5.7555, 88.65) projected
  line L43 (-5.7555, 88.65) -> (-5.7555, 85.65) projected
  line L44 (-5.7555, 85.65) -> (-20.7555, 85.65) projected
  line L45 (-20.7555, 85.65) -> (-20.7555, 88.65) projected
  line L46 (-20.7555, 88.65) -> (-24.1, 88.65) projected
  line L47 (-27.178, -13.53) -> (-59.182, -13.53) projected
  line L48 (-59.182, -13.53) -> (-59.182, 4.25) projected
  line L49 (-59.182, 4.25) -> (-27.178, 4.25) projected
  line L50 (-27.178, 4.25) -> (-27.178, -13.53) projected
  line L51 (-46.442, 79.796) -> (-50.2421, 79.796) projected
  line L52 (-50.2421, 79.796) -> (-50.2421, 84.704) projected
  line L53 (-50.2421, 84.704) -> (-47.7421, 84.704) projected
  line L54 (-47.7421, 84.704) -> (-47.7421, 82.204) projected
  line L55 (-47.7421, 82.204) -> (-45.0021, 82.204) projected
  line L56 (-45.0021, 82.204) -> (-45.0021, 84.704) projected
  line L57 (-45.0021, 84.704) -> (-42.5021, 84.704) projected
  line L58 (-42.5021, 84.704) -> (-42.5021, 79.796) projected
  line L59 (-42.5021, 79.796) -> (-38.902, 79.796) projected
  line L60 (-38.902, 79.796) -> (-38.902, 79.55) projected
  line L61 (-38.902, 79.55) -> (-30.825, 79.55) projected
  line L62 (-30.825, 79.55) -> (-30.825, 76.55) projected
  line L63 (-30.825, 76.55) -> (-46.442, 76.55) projected
  line L64 (-46.442, 76.55) -> (-46.442, 79.796) projected
  circle A1 centre (-38.1, -27.5) radius 5 projected
  line L65 (-70.366, 36.368) -> (-70.366, 41.44) projected
  line L66 (-70.366, 41.44) -> (-76.2, 41.44) projected
  line L67 (-76.2, 41.44) -> (-76.2, 64.3) projected
  line L68 (-76.2, 64.3) -> (-72.382, 64.3) projected
  line L69 (-72.382, 64.3) -> (-72.382, 72.555) projected
  line L70 (-72.382, 72.555) -> (-70.366, 72.555) projected
  line L71 (-70.366, 72.555) -> (-70.366, 69.372) projected
  line L72 (-70.366, 69.372) -> (-60.698, 69.372) projected
  line L73 (-60.698, 69.372) -> (-57.158, 69.372) projected
  line L74 (-57.158, 69.372) -> (-57.158, 64.3) projected
  line L75 (-57.158, 64.3) -> (-49.26, 64.3) projected
  line L76 (-49.26, 64.3) -> (-49.26, 73.015) projected
  line L77 (-49.26, 73.015) -> (-27.94, 73.015) projected
  line L78 (-27.94, 73.015) -> (-27.94, 69.015) projected
  line L79 (-27.94, 69.015) -> (-25.7555, 69.015) projected
  line L80 (-25.7555, 69.015) -> (-25.7555, 42.885) projected
  line L81 (-25.7555, 42.885) -> (-27.94, 42.885) projected
  line L82 (-27.94, 42.885) -> (-49.26, 42.885) projected
  line L83 (-49.26, 42.885) -> (-49.26, 51.6) projected
  line L84 (-49.26, 51.6) -> (-53.34, 51.6) projected
  line L85 (-53.34, 51.6) -> (-53.34, 41.44) projected
  line L86 (-53.34, 41.44) -> (-57.158, 41.44) projected
  line L87 (-57.158, 41.44) -> (-57.158, 36.368) projected
  line L88 (-57.158, 36.368) -> (-60.698, 36.368) projected
  line L89 (-60.698, 36.368) -> (-70.366, 36.368) projected
  line L90 (5, 4.25) -> (-81.2, 4.25)
  line L91 (-81.2, 4.25) -> (-81.2, -51.7211)
  line L92 (-81.2, -51.7211) -> (5, -51.7211)
  line L93 (5, -51.7211) -> (5, 4.25)
  line L94 (5, 4.25) -> (-101.7658, 4.25)
  line L95 (-101.7658, 4.25) -> (-101.7658, 178.715)
  line L96 (-101.7658, 178.715) -> (5, 178.715)
  line L97 (5, 178.715) -> (5, 4.25)
extrude "Extrusion41" cut sketch "Sketch42" along normal mid plane 5638.8 contours L0 L1 L2 L3 | L46 L45 L44 L43 L42 L41 L40 L39 L38 L37 L36 L35 L34 L33 L32 L31 L90 L49 L28 L27 L26 L25 L24 L23 L22 L21 L20 L19 L18 L17 L16 L15 L14 L13 L12 L11 L10 L9 L8 L7 L6 L5 L4 | L4 L5 L6 L7 L8 L9 L10 L11 L12 L13 L14 L15 L16 L17 L18 L19 L20 L21 L22 L23 L24 L25 L26 L27 L28 L94 L95 L96 L97 L40 L41 L42 L43 L44 L45 L46 | L97 L36 L37 L38 | L97 L32 L33 L34 | L51 L52 L53 L54 L55 L56 L57 L58 L59 L60 L61 L62 L63 L64 | L65 L66 L67 L68 L69 L70 L71 L72 L73 L74 L75 L76 L77 L78 L79 L80 L81 L82 L83 L84 L85 L86 L87 L88 L89
sketch "Sketch43" plane through (0, 5, 0) normal (0, 1, 0) x (1, 0, 0)
  line L0 (-50.8, -4.25) -> (-81.2, -4.25) projected
  line L1 (-81.2, -4.25) -> (-81.2, -25.4) projected
  line L2 (-81.2, -25.4) -> (-78.2, -25.4) projected
  line L3 (-78.2, -25.4) -> (-78.2, -38.1) projected
  line L4 (-78.2, -38.1) -> (-81.2, -38.1) projected
  line L5 (-81.2, -38.1) -> (-81.2, -81.2) projected
  line L6 (-81.2, -81.2) -> (-78.2, -81.2) projected
  line L7 (-78.2, -81.2) -> (-78.2, -93.9) projected
  line L8 (-78.2, -93.9) -> (-81.2, -93.9) projected
  line L9 (-81.2, -93.9) -> (-81.2, -119.3) projected
  line L10 (-81.2, -119.3) -> (-68.5, -119.3) projected
  line L11 (-68.5, -119.3) -> (-68.5, -88.65) projected
  line L12 (-68.5, -88.65) -> (-52.1, -88.65) projected
  line L13 (-52.1, -88.65) -> (-52.1, -119.3) projected
  line L14 (-52.1, -119.3) -> (-24.1, -119.3) projected
  line L15 (-24.1, -119.3) -> (-24.1, -88.65) projected
  line L16 (-24.1, -88.65) -> (-7.7, -88.65) projected
  line L17 (-7.7, -88.65) -> (-7.7, -119.3) projected
  line L18 (-7.7, -119.3) -> (5, -119.3) projected
  line L19 (5, -119.3) -> (5, -93.9) projected
  line L20 (5, -93.9) -> (2, -93.9) projected
  line L21 (2, -93.9) -> (2, -81.2) projected
  line L22 (2, -81.2) -> (5, -81.2) projected
  line L23 (5, -81.2) -> (5, -38.1) projected
  line L24 (5, -38.1) -> (2, -38.1) projected
  line L25 (2, -38.1) -> (2, -25.4) projected
  line L26 (2, -25.4) -> (5, -25.4) projected
  line L27 (5, -25.4) -> (5, -4.25) projected
  line L28 (-53.34, -51.6) -> (-49.26, -51.6) projected
  line L29 (-49.26, -51.6) -> (-49.26, -42.885) projected
  line L30 (-49.26, -42.885) -> (-27.94, -42.885) projected
  line L31 (-27.94, -42.885) -> (-27.94, -73.015) projected
  line L32 (-27.94, -73.015) -> (-49.26, -73.015) projected
  line L33 (-49.26, -73.015) -> (-49.26, -64.3) projected
  line L34 (-49.26, -64.3) -> (-57.158, -64.3) projected
  line L35 (-57.158, -64.3) -> (-57.158, -69.372) projected
  line L36 (-57.158, -69.372) -> (-60.698, -69.372) projected
  line L37 (-60.698, -69.372) -> (-60.698, -64.3) projected
  line L38 (-60.698, -64.3) -> (-70.366, -64.3) projected
  line L39 (-70.366, -64.3) -> (-70.366, -72.555) projected
  line L40 (-70.366, -72.555) -> (-72.382, -72.555) projected
  line L41 (-72.382, -72.555) -> (-72.382, -64.3) projected
  line L42 (-72.382, -64.3) -> (-76.2, -64.3) projected
  line L43 (-76.2, -64.3) -> (-76.2, -41.44) projected
  line L44 (-76.2, -41.44) -> (-60.698, -41.44) projected
  line L45 (-60.698, -41.44) -> (-60.698, -36.368) projected
  line L46 (-60.698, -36.368) -> (-57.158, -36.368) projected
  line L47 (-57.158, -36.368) -> (-57.158, -41.44) projected
  line L48 (-57.158, -41.44) -> (-53.34, -41.44) projected
  line L49 (-53.34, -41.44) -> (-53.34, -51.6) projected
  line L50 (-36.2, -4.25) -> (-40, -4.25) projected
  line L51 (-38.1, -4.25) -> (-50.8, -4.25)
  line L52 (-50.8, -4.25) -> (-25.4, -4.25)
  line L53 (-50.8, -4.25) -> (-25.4, -4.25)
  line L54 (-25.4, -4.25) -> (-25.4, -31.75)
  line L55 (-25.4, -31.75) -> (-50.8, -31.75)
  line L56 (-50.8, -31.75) -> (-50.8, -4.25)
  line L57 (-50.8, -31.75) -> (-50.8, -4.25) projected
  line L58 (5, -4.25) -> (-25.15, -4.25) projected
  line L59 (-25.15, -4.25) -> (-25.15, -32) projected
  line L60 (-25.15, -32) -> (-51.05, -32) projected
  line L61 (-51.05, -32) -> (-51.05, -31.75) projected
  line L62 (-51.05, -31.75) -> (-50.8, -31.75) projected
  point P0 (0, 0)
  dimension "d160" = 12.7
  dimension "d161" = 25.4
extrude "Extrusion42" add sketch "Sketch43" against normal blind 5.08 contours L51 L50 L52 L54 L55 L56
sketch "Sketch44" plane through (-81.2, 0, 4.25) normal (0, 0, 1) x (1, 0, 0)
  arc A0 (45, -23.375) -> (41.2, -23.375) centre (43.1, -23.375) ccw projected
  circle A1 centre (43.1, -23.375) radius 2.54
  line L0 (41.2, -27.002) -> (22.018, -27.002) projected
  line L1 (45.64, -23.375) -> (40.56, -23.375)
  line L2 (40.56, -23.375) -> (40.56, -27.002)
  line L3 (40.56, -27.002) -> (45.64, -27.002)
  line L4 (45.64, -27.002) -> (45.64, -23.375)
  point P0 (81.2, 0)
  dimension "d164" = 5.08
extrude "Extrusion43" cut sketch "Sketch44" against normal blind 127
sketch "Sketch45" plane through (-43.18, -27.002, -27.5) normal (0, -1, 0) x (1, 0, 0)
  line L0 (2.54, 13.97) -> (2.54, 31.75) projected
  line L1 (2.54, 31.75) -> (-16.002, 31.75) projected
  line L2 (-16.002, 31.75) -> (-16.002, -6.35) projected
  line L3 (-16.002, -6.35) -> (-11.43, -6.35) projected
  line L4 (-11.43, -6.35) -> (-11.43, 13.97) projected
  line L5 (-11.43, 13.97) -> (2.54, 13.97) projected
  line L6 (7.62, 31.75) -> (7.62, 13.97) projected
  line L7 (7.62, 13.97) -> (11.43, 13.97) projected
  line L8 (11.43, 13.97) -> (11.43, -6.35) projected
  line L9 (11.43, -6.35) -> (16.002, -6.35) projected
  line L10 (16.002, -6.35) -> (16.002, 31.75) projected
  line L11 (16.002, 31.75) -> (7.62, 31.75) projected
  point P0 (43.18, 27.5)
extrude "Extrusion44" add sketch "Sketch45" along normal blind 1
sketch "Sketch46" plane through (-59.182, 0, -13.53) normal (-1, 0, 0) x (0, 0, 1)
  line L0 (-7.62, -24.002) -> (0, -24.002) projected
  line L1 (-20.32, -24.002) -> (-20.32, -28.002) projected
  line L2 (-7.62, -24.002) -> (-20.32, -24.002)
  line L3 (-20.32, -24.002) -> (-20.32, -25.002)
  line L4 (-20.32, -25.002) -> (-7.62, -25.002)
  line L5 (-7.62, -25.002) -> (-7.62, -24.002)
  point P0 (13.53, 0)
  dimension "d169" = 1
extrude "Extrusion45" cut sketch "Sketch46" against normal blind 2819.4
sketch "Sketch47" plane through (0, 5, 0) normal (0, 1, 0) x (1, 0, 0)
  circle A0 centre (-38.1, 0) radius 2.5 projected
  circle A1 centre (-38.1, 0) radius 1.75
  point P0 (0, 0)
  dimension "d172" = 3.5
extrude "Extrusion46" cut sketch "Sketch47" against normal blind 10 contours A1
properties part number "Fronthalf2"
